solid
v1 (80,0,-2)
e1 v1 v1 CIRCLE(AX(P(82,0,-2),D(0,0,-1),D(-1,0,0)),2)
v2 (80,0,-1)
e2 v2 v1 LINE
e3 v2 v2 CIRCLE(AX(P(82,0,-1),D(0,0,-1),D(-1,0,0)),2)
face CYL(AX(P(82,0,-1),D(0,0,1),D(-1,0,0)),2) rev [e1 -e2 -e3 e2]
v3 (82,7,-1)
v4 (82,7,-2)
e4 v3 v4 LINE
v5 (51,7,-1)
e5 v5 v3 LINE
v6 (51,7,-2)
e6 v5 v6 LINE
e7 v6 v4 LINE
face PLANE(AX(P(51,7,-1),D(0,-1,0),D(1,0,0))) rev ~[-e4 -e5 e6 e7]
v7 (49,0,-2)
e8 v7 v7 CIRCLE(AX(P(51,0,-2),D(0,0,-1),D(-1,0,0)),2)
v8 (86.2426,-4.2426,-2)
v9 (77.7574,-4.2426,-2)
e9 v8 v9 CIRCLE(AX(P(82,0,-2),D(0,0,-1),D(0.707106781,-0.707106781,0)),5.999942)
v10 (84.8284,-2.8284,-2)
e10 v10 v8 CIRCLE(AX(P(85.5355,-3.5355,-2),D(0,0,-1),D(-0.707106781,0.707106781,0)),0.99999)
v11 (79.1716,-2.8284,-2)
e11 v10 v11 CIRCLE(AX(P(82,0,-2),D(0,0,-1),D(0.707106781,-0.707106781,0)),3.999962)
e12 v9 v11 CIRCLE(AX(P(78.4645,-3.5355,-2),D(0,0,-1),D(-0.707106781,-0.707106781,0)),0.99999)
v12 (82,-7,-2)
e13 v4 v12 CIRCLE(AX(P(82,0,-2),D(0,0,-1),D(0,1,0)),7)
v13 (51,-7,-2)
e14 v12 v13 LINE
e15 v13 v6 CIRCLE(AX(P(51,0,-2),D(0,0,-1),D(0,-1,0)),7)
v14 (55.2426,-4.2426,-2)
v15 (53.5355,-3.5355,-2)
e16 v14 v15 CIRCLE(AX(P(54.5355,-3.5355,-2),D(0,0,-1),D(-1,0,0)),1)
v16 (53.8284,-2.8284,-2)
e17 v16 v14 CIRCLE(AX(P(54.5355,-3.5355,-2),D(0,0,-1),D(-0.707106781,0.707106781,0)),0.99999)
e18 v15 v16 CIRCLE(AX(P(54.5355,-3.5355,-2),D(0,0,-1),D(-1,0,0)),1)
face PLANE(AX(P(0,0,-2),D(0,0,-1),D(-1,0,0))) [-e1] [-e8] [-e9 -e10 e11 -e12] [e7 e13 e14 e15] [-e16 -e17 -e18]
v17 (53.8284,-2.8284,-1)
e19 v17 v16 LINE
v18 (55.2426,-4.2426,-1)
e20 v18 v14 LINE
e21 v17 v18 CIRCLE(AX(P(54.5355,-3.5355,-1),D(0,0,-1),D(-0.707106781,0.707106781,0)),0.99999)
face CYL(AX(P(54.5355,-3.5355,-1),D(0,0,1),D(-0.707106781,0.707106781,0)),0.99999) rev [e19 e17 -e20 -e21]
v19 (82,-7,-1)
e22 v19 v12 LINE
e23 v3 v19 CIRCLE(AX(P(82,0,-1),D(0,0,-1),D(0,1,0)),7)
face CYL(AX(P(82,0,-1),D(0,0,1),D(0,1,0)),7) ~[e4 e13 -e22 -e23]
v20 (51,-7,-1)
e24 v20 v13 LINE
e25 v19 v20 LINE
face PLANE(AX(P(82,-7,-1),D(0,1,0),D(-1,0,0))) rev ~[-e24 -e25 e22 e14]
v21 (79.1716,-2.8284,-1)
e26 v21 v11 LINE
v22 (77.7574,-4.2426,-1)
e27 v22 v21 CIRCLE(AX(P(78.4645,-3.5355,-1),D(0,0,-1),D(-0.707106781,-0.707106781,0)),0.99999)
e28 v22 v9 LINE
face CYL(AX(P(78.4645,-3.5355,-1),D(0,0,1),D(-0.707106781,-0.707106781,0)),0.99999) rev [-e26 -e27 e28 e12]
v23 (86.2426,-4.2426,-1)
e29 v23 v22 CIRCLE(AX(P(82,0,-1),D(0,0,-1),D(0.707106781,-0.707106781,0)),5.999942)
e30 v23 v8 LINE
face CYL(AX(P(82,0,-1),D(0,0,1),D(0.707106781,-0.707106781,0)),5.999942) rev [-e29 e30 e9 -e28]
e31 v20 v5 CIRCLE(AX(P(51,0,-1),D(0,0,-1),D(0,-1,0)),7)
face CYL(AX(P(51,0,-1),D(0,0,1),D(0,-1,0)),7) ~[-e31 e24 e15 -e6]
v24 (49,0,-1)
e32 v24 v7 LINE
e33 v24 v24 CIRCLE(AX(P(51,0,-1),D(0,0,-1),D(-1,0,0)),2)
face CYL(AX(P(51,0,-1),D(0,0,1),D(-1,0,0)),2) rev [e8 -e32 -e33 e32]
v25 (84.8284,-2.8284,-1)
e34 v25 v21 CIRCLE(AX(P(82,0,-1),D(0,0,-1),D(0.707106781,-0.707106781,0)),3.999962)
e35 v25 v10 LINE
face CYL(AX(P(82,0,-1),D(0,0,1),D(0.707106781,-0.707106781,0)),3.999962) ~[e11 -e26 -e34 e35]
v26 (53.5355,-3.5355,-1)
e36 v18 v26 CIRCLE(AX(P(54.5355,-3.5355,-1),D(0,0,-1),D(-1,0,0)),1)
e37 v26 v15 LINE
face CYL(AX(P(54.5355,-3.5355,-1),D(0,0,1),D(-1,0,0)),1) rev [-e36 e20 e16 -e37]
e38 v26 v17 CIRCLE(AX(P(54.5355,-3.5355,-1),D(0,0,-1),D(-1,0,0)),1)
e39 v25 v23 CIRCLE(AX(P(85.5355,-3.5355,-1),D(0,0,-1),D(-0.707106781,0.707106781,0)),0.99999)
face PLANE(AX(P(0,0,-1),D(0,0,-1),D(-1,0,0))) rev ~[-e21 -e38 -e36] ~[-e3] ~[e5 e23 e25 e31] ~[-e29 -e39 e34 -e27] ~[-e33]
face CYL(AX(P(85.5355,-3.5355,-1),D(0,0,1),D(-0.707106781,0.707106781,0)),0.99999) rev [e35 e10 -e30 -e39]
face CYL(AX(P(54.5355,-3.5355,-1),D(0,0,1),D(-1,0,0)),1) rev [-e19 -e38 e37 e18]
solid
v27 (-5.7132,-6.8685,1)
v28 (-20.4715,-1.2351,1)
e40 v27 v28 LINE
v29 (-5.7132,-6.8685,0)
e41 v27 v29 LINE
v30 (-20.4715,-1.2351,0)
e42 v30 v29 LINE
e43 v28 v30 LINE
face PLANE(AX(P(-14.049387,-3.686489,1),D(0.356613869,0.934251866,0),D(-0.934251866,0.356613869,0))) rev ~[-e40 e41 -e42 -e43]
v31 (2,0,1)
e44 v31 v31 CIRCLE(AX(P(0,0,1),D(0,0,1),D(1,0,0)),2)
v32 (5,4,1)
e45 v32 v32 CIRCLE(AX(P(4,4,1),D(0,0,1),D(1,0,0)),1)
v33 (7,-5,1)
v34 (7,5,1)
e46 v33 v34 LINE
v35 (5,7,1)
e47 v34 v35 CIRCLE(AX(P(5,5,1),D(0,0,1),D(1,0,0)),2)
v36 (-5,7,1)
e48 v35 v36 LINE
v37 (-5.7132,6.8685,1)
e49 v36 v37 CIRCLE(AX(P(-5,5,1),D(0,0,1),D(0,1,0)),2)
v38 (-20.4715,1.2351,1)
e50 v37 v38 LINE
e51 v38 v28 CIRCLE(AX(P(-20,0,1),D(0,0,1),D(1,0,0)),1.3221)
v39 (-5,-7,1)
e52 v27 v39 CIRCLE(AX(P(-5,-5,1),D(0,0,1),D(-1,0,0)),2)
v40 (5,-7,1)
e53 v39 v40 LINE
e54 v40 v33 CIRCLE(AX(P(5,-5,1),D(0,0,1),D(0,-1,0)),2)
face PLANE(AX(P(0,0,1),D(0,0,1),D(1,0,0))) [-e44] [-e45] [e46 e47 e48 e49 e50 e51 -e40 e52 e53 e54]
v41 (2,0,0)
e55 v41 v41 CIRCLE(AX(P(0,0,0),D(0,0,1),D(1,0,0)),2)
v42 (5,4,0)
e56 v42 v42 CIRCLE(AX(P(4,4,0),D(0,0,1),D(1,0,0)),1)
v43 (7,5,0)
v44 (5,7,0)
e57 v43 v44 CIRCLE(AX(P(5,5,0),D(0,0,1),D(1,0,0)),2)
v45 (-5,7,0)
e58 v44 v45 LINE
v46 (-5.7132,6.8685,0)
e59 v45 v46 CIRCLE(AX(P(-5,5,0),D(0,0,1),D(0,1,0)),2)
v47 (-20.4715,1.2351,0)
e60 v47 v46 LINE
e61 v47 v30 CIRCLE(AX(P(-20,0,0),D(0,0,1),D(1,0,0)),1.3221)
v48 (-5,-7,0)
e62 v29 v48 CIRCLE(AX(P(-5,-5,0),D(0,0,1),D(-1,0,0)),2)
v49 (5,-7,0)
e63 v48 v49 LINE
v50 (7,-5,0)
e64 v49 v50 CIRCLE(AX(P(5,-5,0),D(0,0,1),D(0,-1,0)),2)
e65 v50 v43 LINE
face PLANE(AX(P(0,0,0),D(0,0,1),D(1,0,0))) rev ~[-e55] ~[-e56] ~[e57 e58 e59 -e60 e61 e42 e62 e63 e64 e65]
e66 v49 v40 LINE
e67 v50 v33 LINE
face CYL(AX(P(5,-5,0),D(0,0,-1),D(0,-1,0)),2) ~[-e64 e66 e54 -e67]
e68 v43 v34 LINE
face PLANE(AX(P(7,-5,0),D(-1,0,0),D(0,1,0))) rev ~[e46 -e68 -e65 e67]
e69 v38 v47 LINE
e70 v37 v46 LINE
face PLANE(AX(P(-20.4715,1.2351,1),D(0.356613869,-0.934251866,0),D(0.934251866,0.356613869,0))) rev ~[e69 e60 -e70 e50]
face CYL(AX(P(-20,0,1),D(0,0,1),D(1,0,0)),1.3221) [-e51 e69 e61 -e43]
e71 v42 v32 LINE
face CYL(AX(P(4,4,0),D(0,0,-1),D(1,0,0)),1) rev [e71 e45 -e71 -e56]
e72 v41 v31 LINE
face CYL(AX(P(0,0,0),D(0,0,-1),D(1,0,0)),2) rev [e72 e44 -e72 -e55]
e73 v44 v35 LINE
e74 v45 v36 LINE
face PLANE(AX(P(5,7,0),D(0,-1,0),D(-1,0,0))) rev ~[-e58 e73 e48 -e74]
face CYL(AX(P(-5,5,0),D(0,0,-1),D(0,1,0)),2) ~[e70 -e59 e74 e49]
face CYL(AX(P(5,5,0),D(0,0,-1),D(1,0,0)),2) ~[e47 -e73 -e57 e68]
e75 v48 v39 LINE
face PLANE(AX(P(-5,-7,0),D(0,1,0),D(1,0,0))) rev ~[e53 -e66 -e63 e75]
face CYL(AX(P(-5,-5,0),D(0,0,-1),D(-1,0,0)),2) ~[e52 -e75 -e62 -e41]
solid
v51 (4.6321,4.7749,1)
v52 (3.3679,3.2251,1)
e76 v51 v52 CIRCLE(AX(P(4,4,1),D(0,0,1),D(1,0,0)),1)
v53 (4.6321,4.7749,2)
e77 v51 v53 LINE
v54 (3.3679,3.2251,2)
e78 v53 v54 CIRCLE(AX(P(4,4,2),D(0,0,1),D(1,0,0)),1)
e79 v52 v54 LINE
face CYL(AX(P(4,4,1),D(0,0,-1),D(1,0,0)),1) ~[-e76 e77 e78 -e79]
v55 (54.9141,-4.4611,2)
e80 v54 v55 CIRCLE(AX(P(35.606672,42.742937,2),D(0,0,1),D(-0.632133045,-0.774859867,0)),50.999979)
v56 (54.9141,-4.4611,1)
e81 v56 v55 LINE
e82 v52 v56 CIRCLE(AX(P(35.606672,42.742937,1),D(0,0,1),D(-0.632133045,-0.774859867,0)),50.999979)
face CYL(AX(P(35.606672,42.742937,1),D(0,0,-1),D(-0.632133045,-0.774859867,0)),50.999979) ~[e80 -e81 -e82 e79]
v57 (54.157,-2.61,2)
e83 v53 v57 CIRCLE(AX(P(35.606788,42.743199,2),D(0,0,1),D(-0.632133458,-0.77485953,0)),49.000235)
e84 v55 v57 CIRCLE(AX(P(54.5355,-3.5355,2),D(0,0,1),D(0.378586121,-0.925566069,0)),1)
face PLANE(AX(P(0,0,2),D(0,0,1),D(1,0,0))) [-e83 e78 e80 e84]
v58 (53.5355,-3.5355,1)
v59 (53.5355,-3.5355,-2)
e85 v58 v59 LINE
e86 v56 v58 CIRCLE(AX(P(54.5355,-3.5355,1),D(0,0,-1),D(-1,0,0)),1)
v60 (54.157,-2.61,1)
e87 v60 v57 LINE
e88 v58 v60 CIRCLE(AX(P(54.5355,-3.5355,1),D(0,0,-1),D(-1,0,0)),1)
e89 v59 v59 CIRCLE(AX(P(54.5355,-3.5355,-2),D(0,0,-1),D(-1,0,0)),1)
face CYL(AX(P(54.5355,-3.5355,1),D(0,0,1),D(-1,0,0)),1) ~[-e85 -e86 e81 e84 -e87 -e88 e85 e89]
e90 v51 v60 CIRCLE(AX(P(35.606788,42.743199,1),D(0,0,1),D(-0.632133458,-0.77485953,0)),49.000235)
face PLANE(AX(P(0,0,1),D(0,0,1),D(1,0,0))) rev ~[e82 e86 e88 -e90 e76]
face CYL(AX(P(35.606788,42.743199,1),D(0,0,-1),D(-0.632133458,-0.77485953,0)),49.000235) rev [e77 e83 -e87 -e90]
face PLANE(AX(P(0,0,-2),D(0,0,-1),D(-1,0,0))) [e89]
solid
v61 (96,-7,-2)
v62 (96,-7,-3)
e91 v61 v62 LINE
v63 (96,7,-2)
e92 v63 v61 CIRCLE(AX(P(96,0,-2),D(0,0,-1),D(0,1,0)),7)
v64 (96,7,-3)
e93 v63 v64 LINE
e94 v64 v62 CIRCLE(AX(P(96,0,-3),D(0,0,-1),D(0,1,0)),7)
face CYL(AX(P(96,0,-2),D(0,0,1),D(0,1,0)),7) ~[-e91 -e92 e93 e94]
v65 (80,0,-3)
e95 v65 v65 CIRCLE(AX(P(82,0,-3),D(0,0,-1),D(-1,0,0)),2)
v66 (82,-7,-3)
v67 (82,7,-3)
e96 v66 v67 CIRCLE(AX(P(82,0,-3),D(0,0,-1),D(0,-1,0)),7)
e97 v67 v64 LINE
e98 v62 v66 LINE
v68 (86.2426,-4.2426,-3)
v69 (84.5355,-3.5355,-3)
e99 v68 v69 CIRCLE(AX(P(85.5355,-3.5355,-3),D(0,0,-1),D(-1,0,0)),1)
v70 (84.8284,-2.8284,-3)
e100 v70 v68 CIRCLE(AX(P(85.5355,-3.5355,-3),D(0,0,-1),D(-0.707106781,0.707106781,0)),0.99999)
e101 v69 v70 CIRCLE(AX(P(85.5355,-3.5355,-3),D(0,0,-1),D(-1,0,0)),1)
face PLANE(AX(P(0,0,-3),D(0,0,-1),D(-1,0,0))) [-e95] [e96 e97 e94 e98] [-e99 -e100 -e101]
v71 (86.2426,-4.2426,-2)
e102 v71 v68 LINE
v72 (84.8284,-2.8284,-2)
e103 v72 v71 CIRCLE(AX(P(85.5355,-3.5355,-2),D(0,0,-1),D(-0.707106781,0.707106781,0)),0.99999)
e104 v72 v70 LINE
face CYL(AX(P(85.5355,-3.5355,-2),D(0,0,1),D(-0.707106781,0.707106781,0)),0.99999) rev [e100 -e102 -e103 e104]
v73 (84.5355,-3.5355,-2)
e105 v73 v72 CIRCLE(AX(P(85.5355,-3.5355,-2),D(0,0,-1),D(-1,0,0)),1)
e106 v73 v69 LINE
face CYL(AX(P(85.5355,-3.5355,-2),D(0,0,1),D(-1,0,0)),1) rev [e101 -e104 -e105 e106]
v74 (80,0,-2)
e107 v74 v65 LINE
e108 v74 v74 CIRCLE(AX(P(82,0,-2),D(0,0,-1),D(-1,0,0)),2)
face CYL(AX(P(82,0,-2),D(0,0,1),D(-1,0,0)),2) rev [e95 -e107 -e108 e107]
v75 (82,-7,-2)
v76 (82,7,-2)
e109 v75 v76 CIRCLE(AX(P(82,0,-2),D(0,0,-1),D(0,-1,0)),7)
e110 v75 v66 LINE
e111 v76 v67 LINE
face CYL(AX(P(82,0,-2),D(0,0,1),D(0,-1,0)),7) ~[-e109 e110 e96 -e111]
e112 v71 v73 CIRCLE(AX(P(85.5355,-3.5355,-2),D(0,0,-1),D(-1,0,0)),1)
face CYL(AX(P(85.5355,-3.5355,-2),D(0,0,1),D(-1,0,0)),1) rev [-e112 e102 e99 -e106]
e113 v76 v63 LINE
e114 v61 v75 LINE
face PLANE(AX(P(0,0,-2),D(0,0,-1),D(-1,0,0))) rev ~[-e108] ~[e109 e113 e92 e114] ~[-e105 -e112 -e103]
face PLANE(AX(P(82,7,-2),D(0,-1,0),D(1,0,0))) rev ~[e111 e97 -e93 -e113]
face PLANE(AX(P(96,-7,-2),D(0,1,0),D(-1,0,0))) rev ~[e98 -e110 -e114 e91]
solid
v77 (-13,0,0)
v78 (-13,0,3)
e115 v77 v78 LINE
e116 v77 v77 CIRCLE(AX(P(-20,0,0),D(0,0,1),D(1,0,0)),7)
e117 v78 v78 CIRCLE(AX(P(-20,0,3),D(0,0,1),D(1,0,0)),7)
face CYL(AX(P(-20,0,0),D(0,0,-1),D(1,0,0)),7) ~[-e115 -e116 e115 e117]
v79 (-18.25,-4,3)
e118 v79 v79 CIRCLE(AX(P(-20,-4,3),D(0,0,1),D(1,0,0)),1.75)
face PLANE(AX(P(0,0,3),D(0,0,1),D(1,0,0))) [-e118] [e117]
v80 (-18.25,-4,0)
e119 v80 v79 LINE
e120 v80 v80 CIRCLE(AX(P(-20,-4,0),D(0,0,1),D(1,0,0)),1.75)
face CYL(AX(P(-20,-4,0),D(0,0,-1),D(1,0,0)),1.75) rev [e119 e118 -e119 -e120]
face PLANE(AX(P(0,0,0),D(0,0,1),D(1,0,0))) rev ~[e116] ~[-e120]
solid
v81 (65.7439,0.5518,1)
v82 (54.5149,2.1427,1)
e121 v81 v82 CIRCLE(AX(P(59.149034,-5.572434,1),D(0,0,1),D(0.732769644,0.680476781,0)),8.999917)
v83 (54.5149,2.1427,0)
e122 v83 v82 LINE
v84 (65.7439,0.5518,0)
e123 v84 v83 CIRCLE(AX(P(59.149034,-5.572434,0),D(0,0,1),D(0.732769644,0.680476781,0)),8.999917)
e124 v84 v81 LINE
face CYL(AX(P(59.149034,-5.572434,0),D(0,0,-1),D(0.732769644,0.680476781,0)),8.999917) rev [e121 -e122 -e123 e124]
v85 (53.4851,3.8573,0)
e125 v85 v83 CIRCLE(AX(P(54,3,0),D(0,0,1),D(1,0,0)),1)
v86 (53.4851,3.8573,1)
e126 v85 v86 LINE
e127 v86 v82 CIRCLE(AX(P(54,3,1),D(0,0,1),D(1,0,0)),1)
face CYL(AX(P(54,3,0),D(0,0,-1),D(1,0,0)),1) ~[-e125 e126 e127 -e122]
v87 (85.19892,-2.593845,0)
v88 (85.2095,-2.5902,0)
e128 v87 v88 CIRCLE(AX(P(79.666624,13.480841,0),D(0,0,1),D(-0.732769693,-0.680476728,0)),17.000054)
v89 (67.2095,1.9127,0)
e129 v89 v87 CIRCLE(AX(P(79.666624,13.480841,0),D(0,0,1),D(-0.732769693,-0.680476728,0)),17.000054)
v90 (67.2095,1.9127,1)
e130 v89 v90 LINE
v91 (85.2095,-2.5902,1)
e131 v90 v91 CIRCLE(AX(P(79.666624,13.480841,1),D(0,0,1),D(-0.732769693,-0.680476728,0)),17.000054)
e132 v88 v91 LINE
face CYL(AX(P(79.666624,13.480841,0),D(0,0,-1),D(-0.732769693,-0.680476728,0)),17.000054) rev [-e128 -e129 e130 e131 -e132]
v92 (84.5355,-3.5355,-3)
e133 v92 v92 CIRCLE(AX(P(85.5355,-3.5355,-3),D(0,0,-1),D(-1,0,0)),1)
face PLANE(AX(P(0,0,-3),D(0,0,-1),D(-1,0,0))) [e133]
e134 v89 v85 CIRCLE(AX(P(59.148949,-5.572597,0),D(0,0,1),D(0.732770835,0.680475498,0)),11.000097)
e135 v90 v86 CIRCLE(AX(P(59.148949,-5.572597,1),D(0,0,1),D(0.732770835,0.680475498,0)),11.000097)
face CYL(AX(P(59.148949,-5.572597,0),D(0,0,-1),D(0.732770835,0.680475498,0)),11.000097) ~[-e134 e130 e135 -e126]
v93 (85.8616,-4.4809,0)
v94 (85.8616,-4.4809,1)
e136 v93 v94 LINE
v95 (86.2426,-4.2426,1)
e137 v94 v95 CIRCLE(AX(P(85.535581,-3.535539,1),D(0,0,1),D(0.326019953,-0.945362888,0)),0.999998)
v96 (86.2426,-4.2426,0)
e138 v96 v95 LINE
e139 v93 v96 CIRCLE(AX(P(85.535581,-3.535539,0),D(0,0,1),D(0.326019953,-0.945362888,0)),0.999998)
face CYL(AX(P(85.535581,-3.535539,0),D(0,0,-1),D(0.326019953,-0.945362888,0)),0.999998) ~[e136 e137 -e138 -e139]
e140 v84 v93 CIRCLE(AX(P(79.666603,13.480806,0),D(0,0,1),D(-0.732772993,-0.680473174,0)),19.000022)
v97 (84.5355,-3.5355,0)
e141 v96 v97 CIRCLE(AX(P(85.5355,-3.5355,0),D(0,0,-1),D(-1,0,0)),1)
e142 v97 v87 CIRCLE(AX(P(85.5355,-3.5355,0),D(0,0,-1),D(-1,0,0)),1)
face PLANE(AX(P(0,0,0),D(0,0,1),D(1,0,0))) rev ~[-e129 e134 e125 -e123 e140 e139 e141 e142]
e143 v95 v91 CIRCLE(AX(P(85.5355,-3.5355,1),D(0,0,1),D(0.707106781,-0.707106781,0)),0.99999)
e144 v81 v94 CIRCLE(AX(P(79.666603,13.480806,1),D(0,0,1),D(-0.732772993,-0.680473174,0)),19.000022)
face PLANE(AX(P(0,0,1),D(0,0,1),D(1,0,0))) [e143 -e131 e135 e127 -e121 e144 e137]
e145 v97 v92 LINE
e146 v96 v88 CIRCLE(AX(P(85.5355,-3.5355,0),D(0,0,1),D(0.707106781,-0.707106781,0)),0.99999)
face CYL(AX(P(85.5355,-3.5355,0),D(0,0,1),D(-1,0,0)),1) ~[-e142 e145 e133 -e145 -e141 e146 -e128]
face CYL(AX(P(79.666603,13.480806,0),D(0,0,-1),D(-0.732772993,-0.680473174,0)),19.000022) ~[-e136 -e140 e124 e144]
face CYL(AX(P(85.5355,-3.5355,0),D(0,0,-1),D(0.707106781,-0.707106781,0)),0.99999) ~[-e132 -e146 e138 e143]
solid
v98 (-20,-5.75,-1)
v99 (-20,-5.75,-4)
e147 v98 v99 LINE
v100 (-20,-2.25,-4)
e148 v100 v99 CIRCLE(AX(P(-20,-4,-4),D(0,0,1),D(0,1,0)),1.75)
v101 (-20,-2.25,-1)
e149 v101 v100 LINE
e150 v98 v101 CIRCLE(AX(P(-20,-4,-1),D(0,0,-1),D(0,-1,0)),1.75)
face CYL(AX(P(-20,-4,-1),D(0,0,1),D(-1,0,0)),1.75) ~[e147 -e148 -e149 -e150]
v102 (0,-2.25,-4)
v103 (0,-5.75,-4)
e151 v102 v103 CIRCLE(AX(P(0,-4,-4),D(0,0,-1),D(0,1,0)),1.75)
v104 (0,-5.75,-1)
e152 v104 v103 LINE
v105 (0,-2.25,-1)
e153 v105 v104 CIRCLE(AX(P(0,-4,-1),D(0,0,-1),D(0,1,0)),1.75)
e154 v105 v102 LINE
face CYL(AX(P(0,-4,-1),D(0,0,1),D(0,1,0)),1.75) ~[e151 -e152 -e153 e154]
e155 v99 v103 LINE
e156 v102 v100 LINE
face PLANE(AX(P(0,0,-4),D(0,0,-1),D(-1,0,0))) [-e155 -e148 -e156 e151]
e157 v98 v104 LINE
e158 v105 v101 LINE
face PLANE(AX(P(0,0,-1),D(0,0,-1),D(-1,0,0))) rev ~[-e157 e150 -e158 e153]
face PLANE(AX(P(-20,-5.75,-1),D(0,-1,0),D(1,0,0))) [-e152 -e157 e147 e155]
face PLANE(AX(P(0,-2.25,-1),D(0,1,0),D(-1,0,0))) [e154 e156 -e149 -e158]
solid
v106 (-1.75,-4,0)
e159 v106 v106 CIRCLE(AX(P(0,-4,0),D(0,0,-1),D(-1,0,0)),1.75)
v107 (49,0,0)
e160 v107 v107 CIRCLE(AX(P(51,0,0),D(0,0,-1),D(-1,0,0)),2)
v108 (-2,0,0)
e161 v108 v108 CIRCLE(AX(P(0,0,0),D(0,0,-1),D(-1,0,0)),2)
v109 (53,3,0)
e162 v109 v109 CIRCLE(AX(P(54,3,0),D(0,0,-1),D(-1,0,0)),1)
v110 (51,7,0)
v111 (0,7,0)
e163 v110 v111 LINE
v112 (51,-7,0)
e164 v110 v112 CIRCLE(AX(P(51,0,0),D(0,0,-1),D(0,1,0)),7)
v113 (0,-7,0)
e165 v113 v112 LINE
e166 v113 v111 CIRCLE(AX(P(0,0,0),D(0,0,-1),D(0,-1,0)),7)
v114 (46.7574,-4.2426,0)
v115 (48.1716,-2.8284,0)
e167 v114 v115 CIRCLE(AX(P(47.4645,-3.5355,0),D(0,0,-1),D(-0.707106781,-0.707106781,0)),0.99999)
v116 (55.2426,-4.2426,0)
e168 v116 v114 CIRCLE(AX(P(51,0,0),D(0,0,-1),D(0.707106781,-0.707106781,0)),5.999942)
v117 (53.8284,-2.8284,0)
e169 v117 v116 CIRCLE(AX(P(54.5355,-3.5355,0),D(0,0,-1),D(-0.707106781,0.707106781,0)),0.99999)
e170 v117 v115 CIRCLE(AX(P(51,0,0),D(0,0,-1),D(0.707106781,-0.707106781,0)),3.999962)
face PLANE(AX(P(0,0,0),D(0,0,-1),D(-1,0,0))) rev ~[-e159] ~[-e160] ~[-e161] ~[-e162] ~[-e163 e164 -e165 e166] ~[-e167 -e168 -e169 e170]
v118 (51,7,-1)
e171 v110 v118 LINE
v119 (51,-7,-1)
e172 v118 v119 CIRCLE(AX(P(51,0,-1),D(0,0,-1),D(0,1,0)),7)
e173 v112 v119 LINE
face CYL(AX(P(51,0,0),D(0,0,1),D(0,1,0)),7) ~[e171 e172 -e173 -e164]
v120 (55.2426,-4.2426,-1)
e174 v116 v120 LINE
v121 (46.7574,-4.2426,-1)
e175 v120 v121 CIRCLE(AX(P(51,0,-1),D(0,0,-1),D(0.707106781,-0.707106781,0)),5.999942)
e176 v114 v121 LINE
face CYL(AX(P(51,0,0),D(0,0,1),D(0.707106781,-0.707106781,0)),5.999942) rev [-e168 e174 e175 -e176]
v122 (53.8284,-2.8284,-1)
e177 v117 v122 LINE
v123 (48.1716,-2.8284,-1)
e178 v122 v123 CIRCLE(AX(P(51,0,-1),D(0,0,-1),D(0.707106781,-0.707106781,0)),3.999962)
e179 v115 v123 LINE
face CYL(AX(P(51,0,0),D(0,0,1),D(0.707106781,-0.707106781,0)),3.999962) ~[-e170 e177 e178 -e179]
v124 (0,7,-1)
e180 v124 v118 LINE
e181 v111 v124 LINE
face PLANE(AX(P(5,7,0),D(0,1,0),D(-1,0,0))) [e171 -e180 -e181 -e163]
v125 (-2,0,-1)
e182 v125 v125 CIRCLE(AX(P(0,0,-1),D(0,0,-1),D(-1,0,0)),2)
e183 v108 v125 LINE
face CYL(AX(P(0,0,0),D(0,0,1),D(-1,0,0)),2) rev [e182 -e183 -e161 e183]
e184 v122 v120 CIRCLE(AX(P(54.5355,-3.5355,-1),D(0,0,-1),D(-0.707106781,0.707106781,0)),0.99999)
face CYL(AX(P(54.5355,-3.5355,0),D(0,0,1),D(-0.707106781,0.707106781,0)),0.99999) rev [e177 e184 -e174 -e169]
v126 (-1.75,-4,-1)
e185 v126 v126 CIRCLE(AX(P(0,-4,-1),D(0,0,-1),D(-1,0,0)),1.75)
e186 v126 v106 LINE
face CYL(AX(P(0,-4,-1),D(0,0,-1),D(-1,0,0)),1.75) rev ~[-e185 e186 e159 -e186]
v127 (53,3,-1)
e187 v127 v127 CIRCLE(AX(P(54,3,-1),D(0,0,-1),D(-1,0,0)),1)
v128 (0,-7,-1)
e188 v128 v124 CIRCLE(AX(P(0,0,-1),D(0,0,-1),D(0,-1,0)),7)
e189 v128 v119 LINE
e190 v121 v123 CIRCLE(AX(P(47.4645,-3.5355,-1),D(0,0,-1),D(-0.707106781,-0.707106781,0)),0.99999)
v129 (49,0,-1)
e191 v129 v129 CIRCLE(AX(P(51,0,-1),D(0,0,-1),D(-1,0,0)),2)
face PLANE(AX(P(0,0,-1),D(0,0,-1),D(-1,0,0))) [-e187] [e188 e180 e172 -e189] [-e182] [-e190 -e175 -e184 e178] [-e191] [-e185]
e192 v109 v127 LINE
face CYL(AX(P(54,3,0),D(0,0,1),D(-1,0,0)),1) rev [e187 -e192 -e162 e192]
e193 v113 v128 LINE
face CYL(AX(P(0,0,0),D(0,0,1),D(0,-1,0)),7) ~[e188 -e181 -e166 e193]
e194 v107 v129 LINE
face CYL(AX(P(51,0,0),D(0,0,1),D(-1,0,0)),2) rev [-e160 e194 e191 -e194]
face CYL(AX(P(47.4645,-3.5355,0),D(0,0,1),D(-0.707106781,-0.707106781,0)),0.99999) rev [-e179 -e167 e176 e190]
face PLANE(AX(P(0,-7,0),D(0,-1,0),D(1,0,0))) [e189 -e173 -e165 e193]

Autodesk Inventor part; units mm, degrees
ref_plane "YZ Plane" through (0, 0, 0) normal (1, 0, 0) x (0, 1, 0)
ref_plane "XZ Plane" through (0, 0, 0) normal (0, 1, 0) x (-1, 0, 0)
ref_plane "XY Plane" through (0, 0, 0) normal (0, 0, 1) x (1, 0, 0)
sketch "Sketch1" plane through (0, 0, 0) normal (0, 0, 1) x (1, 0, 0)
  line L0 (-5, -7) -> (5, -7)
  line L1 (7, -5) -> (7, 5)
  line L2 (5, 7) -> (-5, 7)
  line L3 (-7, 5) -> (-7, -5)
  line L4 (-7, -7) -> (7, 7) construction
  line L5 (7, -7) -> (-7, 7) construction
  arc A0 (7, 5) -> (5, 7) centre (5, 5) ccw
  arc A1 (5, -7) -> (7, -5) centre (5, -5) ccw
  arc A2 (-7, -5) -> (-5, -7) centre (-5, -5) ccw
  arc A3 (-5, 7) -> (-7, 5) centre (-5, 5) ccw
  circle A4 centre (4, 4) radius 1
  circle A5 centre (0, 0) radius 2
  point P0 (0, 0)
  dimension "d0" = 14
  dimension "d1" = 2
  dimension "d2" = 2
  dimension "d3" = 3
  dimension "d6" = 4
extrude "Extrusion1" add sketch "Sketch1" along normal blind 1
sketch "Sketch2" plane through (0, 0, 0) normal (0, 0, -1) x (-1, 0, 0)
  line L0 (0, 0) -> (-51, 0) construction
  line L1 (0, -7) -> (-51, -7)
  line L2 (-51, 7) -> (0, 7)
  arc A0 (0, -7) -> (0, 7) centre (0, 0) ccw
  arc A1 (-51, 7) -> (-51, -7) centre (-51, 0) ccw
  line L3 (-5, 7) -> (5, 7) projected
  circle A2 centre (-51, 0) radius 2
  circle A3 centre (0, 0) radius 2 projected
  arc A4 (-54.5355, -3.5355) -> (-47.4645, -3.5355) centre (-51, 0) ccw construction
  arc A5 (-55.2426, -4.2426) -> (-46.7574, -4.2426) centre (-51, 0) ccw
  arc A6 (-53.8284, -2.8284) -> (-48.1716, -2.8284) centre (-51, 0) ccw
  arc A7 (-53.8284, -2.8284) -> (-55.2426, -4.2426) centre (-54.5355, -3.5355) ccw
  arc A8 (-46.7574, -4.2426) -> (-48.1716, -2.8284) centre (-47.4645, -3.5355) ccw
  line L4 (-51, 0) -> (-54.5355, -3.5355) construction
  line L5 (-47.4645, -3.5355) -> (-51, 0) construction
  line L6 (-51, 0) -> (-51, -7) construction
  circle A9 centre (-54, 3) radius 1
  point P0 (-25.5, 0)
  dimension "d7" = 65
  dimension "d8" = 90
  dimension "d9" = 2
  dimension "d10" = 5
  dimension "d11" = 2
  dimension "d12" = 3
  dimension "d13" = 3
extrude "Extrusion2" add sketch "Sketch2" along normal blind 1 separate body
sketch "Sketch3" plane through (0, 0, -1) normal (0, 0, -1) x (-1, 0, 0)
  circle A0 centre (-51, 0) radius 2 projected
  line L0 (-51, 0) -> (-82, 0) construction
  line L1 (-51, 7) -> (-82, 7)
  line L2 (-82, -7) -> (-51, -7)
  arc A1 (-51, -7) -> (-51, 7) centre (-51, 0) ccw
  arc A2 (-82, 7) -> (-82, -7) centre (-82, 0) ccw
  line L3 (0, 7) -> (-51, 7) projected
  circle A3 centre (-82, 0) radius 2
  circle A4 centre (-51, 0) radius 2 projected
  circle A5 centre (-51, 0) radius 2
  arc A6 (-53.8284, -2.8284) -> (-55.2426, -4.2426) centre (-54.5355, -3.5355) ccw projected
  circle A7 centre (-54.5355, -3.5355) radius 1
  arc A8 (-85.5355, -3.5355) -> (-78.4645, -3.5355) centre (-82, 0) ccw construction
  arc A9 (-86.2426, -4.2426) -> (-77.7574, -4.2426) centre (-82, 0) ccw
  arc A10 (-84.8284, -2.8284) -> (-79.1716, -2.8284) centre (-82, 0) ccw
  arc A11 (-84.8284, -2.8284) -> (-86.2426, -4.2426) centre (-85.5355, -3.5355) ccw
  arc A12 (-77.7574, -4.2426) -> (-79.1716, -2.8284) centre (-78.4645, -3.5355) ccw
  line L4 (-82, 0) -> (-85.5355, -3.5355) construction
  line L5 (-82, 0) -> (-78.4645, -3.5355) construction
  line L6 (-82, 0) -> (-82, -7) construction
  point P0 (0, 0)
  point P1 (-66.5, 0)
  point P2 (-55.2426, -4.2426)
  point P3 (-53.8284, -2.8284)
  dimension "d17" = 31
  dimension "d18" = 2
  dimension "d19" = 90
  dimension "d20" = 5
extrude "Extrusion3" add sketch "Sketch3" along normal blind 1 separate body
sketch "Sketch4" plane through (0, 0, -2) normal (0, 0, -1) x (-1, 0, 0)
  line L0 (-82, 0) -> (-96, 0) construction
  line L1 (-82, 7) -> (-96, 7)
  line L2 (-96, -7) -> (-82, -7)
  arc A0 (-82, -7) -> (-82, 7) centre (-82, 0) ccw
  arc A1 (-96, 7) -> (-96, -7) centre (-96, 0) ccw
  circle A2 centre (-82, 0) radius 2 projected
  arc A3 (-84.8284, -2.8284) -> (-86.2426, -4.2426) centre (-85.5355, -3.5355) ccw projected
  circle A4 centre (-85.5355, -3.5355) radius 1
  circle A5 centre (-82, 0) radius 2
  line L3 (-51, 7) -> (-82, 7) projected
  point P0 (0, 0)
  point P1 (-89, 0)
  point P2 (-86.2426, -4.2426)
  point P3 (-84.8284, -2.8284)
  dimension "d23" = 14
extrude "Extrusion4" add sketch "Sketch4" along normal blind 1 separate body
sketch "Sketch5" plane through (0, 0, 1) normal (0, 0, 1) x (1, 0, 0)
  circle A0 centre (4, 4) radius 1 projected
  circle A1 centre (54.5355, -3.5355) radius 1 projected
  arc A2 (4, 4) -> (54.5355, -3.5355) centre (35.6067, 42.743) ccw construction
  arc A3 (3.3679, 3.2251) -> (54.9141, -4.4611) centre (35.6067, 42.743) ccw
  arc A4 (4.6321, 4.7749) -> (54.157, -2.61) centre (35.6067, 42.743) ccw
  arc A5 (4.6321, 4.7749) -> (3.3679, 3.2251) centre (4, 4) ccw
  arc A6 (54.9141, -4.4611) -> (54.157, -2.61) centre (54.5355, -3.5355) ccw
  point P0 (0, 0)
  point P1 (54.157, -2.61)
  point P2 (4.6321, 4.7749)
  point P3 (3.3679, 3.2251)
  point P4 (54.9141, -4.4611)
  dimension "d26" = 50
extrude "Extrusion5" add sketch "Sketch5" along normal blind 1 separate body
sketch "Sketch6" plane through (0, 0, 1) normal (0, 0, -1) x (-1, 0, 0)
  circle A0 centre (-54.5355, -3.5355) radius 1 projected
  point P0 (0, 0)
extrude "Extrusion6" add sketch "Sketch6" along normal blind 3 bodies 5
sketch "Sketch7" plane through (0, 0, 0) normal (0, 0, 1) x (1, 0, 0)
  circle A0 centre (54, 3) radius 1 projected
  arc A1 (66.4767, 1.2322) -> (54, 3) centre (59.149, -5.5725) ccw construction
  arc A2 (67.2095, 1.9127) -> (53.4851, 3.8573) centre (59.149, -5.5725) ccw
  arc A3 (65.7439, 0.5518) -> (54.5149, 2.1427) centre (59.149, -5.5725) ccw
  arc A4 (65.7439, 0.5518) -> (67.2095, 1.9127) centre (66.4767, 1.2322) ccw construction
  arc A5 (53.4851, 3.8573) -> (54.5149, 2.1427) centre (54, 3) ccw
  arc A6 (86.2426, -4.2426) -> (84.8284, -2.8284) centre (85.5355, -3.5355) ccw projected
  arc A7 (66.4767, 1.2322) -> (85.5355, -3.5355) centre (79.6666, 13.4808) ccw construction
  arc A8 (65.7439, 0.5518) -> (85.8616, -4.4809) centre (79.6666, 13.4808) ccw
  arc A9 (67.2095, 1.9127) -> (85.2095, -2.5902) centre (79.6666, 13.4808) ccw
  arc A10 (67.2095, 1.9127) -> (65.7439, 0.5518) centre (66.4767, 1.2322) ccw construction
  arc A11 (85.8616, -4.4809) -> (85.2095, -2.5902) centre (85.5355, -3.5355) ccw
  point P0 (0, 0)
  point P1 (65.7439, 0.5518)
  point P2 (85.2095, -2.5902)
  point P3 (67.2095, 1.9127)
  point P4 (53.4851, 3.8573)
  point P5 (54.5149, 2.1427)
  dimension "d31" = 10
  dimension "d32" = 18
  dimension "d33" = 18
extrude "Extrusion7" add sketch "Sketch7" along normal blind 1 separate body
sketch "Sketch8" plane through (0, 0, 0) normal (0, 0, -1) x (-1, 0, 0)
  circle A0 centre (-85.5355, -3.5355) radius 1 projected
  point P0 (0, 0)
extrude "Extrusion8" add sketch "Sketch8" along normal blind 3 bodies 6
sketch "Sketch9" plane through (0, 0, 0) normal (0, 0, 1) x (1, 0, 0)
  circle A0 centre (-20, 0) radius 7
  circle A1 centre (-20, -4) radius 1.75
  point P0 (0, 0)
  dimension "d38" = 14
  dimension "d39" = 20
  dimension "d40" = 3.5
  dimension "d41" = 4
extrude "Extrusion9" add sketch "Sketch9" along normal blind 3 separate body
sketch "Sketch10" plane through (0, 0, -1) normal (0, 0, -1) x (-1, 0, 0)
  circle A0 centre (0, -4) radius 1.75
  point P0 (0, 0)
  dimension "d44" = 3.5
  dimension "d45" = 4
extrude "Extrusion10" cut sketch "Sketch10" against normal blind 3 bodies 2
sketch "Sketch11" plane through (0, 0, -1) normal (0, 0, -1) x (-1, 0, 0)
  circle A0 centre (20, -4) radius 1.75 projected
  arc A1 (0, -2.25) -> (0, -5.75) centre (0, -4) ccw
  arc A2 (20, -5.75) -> (20, -2.25) centre (20, -4) ccw
  circle A3 centre (0, -4) radius 1.75 projected
  line L0 (0, -2.25) -> (20, -2.25)
  circle A4 centre (0, -4) radius 1.75 projected
  line L1 (20, -5.75) -> (0, -5.75)
  point P0 (0, 0)
  point P1 (19.7404, -8.7306)
  point P2 (20, -5.75)
  point P3 (21.7363, -6.7813)
  point P4 (18.2637, -6.7813)
  point P5 (21.75, -4)
  point P6 (20, -5.75)
extrude "Extrusion11" add sketch "Sketch11" along normal blind 3 separate body
sketch "Sketch12" plane through (0, 0, 1) normal (0, 0, 1) x (1, 0, 0)
  circle A0 centre (-20, 0) radius 7 projected
  circle A1 centre (-20, 0) radius 1.3221
  line L0 (-20.4715, 1.2351) -> (-5.7132, 6.8685)
  arc A2 (-5, 7) -> (-7, 5) centre (-5, 5) ccw projected
  arc A3 (-7, -5) -> (-5, -7) centre (-5, -5) ccw projected
  line L1 (-5.7132, -6.8685) -> (-20.4715, -1.2351)
  line L2 (-7, 5) -> (-7, -5) projected
  point P0 (0, 0)
  point P1 (-14.0494, 3.6865)
  point P2 (-14.0494, -3.6865)
  point P3 (-18.2637, -6.7813)
  point P4 (-21.7363, -6.7813)
extrude "Extrusion12" add sketch "Sketch12" against normal blind 1 contours A0 L1 A1 L0 | A0 L0 A2 L2 A3 L1 | A1 picked at (-14.9324, 0.4289) bodies 1
properties part number "mozgasvizsgalat"
